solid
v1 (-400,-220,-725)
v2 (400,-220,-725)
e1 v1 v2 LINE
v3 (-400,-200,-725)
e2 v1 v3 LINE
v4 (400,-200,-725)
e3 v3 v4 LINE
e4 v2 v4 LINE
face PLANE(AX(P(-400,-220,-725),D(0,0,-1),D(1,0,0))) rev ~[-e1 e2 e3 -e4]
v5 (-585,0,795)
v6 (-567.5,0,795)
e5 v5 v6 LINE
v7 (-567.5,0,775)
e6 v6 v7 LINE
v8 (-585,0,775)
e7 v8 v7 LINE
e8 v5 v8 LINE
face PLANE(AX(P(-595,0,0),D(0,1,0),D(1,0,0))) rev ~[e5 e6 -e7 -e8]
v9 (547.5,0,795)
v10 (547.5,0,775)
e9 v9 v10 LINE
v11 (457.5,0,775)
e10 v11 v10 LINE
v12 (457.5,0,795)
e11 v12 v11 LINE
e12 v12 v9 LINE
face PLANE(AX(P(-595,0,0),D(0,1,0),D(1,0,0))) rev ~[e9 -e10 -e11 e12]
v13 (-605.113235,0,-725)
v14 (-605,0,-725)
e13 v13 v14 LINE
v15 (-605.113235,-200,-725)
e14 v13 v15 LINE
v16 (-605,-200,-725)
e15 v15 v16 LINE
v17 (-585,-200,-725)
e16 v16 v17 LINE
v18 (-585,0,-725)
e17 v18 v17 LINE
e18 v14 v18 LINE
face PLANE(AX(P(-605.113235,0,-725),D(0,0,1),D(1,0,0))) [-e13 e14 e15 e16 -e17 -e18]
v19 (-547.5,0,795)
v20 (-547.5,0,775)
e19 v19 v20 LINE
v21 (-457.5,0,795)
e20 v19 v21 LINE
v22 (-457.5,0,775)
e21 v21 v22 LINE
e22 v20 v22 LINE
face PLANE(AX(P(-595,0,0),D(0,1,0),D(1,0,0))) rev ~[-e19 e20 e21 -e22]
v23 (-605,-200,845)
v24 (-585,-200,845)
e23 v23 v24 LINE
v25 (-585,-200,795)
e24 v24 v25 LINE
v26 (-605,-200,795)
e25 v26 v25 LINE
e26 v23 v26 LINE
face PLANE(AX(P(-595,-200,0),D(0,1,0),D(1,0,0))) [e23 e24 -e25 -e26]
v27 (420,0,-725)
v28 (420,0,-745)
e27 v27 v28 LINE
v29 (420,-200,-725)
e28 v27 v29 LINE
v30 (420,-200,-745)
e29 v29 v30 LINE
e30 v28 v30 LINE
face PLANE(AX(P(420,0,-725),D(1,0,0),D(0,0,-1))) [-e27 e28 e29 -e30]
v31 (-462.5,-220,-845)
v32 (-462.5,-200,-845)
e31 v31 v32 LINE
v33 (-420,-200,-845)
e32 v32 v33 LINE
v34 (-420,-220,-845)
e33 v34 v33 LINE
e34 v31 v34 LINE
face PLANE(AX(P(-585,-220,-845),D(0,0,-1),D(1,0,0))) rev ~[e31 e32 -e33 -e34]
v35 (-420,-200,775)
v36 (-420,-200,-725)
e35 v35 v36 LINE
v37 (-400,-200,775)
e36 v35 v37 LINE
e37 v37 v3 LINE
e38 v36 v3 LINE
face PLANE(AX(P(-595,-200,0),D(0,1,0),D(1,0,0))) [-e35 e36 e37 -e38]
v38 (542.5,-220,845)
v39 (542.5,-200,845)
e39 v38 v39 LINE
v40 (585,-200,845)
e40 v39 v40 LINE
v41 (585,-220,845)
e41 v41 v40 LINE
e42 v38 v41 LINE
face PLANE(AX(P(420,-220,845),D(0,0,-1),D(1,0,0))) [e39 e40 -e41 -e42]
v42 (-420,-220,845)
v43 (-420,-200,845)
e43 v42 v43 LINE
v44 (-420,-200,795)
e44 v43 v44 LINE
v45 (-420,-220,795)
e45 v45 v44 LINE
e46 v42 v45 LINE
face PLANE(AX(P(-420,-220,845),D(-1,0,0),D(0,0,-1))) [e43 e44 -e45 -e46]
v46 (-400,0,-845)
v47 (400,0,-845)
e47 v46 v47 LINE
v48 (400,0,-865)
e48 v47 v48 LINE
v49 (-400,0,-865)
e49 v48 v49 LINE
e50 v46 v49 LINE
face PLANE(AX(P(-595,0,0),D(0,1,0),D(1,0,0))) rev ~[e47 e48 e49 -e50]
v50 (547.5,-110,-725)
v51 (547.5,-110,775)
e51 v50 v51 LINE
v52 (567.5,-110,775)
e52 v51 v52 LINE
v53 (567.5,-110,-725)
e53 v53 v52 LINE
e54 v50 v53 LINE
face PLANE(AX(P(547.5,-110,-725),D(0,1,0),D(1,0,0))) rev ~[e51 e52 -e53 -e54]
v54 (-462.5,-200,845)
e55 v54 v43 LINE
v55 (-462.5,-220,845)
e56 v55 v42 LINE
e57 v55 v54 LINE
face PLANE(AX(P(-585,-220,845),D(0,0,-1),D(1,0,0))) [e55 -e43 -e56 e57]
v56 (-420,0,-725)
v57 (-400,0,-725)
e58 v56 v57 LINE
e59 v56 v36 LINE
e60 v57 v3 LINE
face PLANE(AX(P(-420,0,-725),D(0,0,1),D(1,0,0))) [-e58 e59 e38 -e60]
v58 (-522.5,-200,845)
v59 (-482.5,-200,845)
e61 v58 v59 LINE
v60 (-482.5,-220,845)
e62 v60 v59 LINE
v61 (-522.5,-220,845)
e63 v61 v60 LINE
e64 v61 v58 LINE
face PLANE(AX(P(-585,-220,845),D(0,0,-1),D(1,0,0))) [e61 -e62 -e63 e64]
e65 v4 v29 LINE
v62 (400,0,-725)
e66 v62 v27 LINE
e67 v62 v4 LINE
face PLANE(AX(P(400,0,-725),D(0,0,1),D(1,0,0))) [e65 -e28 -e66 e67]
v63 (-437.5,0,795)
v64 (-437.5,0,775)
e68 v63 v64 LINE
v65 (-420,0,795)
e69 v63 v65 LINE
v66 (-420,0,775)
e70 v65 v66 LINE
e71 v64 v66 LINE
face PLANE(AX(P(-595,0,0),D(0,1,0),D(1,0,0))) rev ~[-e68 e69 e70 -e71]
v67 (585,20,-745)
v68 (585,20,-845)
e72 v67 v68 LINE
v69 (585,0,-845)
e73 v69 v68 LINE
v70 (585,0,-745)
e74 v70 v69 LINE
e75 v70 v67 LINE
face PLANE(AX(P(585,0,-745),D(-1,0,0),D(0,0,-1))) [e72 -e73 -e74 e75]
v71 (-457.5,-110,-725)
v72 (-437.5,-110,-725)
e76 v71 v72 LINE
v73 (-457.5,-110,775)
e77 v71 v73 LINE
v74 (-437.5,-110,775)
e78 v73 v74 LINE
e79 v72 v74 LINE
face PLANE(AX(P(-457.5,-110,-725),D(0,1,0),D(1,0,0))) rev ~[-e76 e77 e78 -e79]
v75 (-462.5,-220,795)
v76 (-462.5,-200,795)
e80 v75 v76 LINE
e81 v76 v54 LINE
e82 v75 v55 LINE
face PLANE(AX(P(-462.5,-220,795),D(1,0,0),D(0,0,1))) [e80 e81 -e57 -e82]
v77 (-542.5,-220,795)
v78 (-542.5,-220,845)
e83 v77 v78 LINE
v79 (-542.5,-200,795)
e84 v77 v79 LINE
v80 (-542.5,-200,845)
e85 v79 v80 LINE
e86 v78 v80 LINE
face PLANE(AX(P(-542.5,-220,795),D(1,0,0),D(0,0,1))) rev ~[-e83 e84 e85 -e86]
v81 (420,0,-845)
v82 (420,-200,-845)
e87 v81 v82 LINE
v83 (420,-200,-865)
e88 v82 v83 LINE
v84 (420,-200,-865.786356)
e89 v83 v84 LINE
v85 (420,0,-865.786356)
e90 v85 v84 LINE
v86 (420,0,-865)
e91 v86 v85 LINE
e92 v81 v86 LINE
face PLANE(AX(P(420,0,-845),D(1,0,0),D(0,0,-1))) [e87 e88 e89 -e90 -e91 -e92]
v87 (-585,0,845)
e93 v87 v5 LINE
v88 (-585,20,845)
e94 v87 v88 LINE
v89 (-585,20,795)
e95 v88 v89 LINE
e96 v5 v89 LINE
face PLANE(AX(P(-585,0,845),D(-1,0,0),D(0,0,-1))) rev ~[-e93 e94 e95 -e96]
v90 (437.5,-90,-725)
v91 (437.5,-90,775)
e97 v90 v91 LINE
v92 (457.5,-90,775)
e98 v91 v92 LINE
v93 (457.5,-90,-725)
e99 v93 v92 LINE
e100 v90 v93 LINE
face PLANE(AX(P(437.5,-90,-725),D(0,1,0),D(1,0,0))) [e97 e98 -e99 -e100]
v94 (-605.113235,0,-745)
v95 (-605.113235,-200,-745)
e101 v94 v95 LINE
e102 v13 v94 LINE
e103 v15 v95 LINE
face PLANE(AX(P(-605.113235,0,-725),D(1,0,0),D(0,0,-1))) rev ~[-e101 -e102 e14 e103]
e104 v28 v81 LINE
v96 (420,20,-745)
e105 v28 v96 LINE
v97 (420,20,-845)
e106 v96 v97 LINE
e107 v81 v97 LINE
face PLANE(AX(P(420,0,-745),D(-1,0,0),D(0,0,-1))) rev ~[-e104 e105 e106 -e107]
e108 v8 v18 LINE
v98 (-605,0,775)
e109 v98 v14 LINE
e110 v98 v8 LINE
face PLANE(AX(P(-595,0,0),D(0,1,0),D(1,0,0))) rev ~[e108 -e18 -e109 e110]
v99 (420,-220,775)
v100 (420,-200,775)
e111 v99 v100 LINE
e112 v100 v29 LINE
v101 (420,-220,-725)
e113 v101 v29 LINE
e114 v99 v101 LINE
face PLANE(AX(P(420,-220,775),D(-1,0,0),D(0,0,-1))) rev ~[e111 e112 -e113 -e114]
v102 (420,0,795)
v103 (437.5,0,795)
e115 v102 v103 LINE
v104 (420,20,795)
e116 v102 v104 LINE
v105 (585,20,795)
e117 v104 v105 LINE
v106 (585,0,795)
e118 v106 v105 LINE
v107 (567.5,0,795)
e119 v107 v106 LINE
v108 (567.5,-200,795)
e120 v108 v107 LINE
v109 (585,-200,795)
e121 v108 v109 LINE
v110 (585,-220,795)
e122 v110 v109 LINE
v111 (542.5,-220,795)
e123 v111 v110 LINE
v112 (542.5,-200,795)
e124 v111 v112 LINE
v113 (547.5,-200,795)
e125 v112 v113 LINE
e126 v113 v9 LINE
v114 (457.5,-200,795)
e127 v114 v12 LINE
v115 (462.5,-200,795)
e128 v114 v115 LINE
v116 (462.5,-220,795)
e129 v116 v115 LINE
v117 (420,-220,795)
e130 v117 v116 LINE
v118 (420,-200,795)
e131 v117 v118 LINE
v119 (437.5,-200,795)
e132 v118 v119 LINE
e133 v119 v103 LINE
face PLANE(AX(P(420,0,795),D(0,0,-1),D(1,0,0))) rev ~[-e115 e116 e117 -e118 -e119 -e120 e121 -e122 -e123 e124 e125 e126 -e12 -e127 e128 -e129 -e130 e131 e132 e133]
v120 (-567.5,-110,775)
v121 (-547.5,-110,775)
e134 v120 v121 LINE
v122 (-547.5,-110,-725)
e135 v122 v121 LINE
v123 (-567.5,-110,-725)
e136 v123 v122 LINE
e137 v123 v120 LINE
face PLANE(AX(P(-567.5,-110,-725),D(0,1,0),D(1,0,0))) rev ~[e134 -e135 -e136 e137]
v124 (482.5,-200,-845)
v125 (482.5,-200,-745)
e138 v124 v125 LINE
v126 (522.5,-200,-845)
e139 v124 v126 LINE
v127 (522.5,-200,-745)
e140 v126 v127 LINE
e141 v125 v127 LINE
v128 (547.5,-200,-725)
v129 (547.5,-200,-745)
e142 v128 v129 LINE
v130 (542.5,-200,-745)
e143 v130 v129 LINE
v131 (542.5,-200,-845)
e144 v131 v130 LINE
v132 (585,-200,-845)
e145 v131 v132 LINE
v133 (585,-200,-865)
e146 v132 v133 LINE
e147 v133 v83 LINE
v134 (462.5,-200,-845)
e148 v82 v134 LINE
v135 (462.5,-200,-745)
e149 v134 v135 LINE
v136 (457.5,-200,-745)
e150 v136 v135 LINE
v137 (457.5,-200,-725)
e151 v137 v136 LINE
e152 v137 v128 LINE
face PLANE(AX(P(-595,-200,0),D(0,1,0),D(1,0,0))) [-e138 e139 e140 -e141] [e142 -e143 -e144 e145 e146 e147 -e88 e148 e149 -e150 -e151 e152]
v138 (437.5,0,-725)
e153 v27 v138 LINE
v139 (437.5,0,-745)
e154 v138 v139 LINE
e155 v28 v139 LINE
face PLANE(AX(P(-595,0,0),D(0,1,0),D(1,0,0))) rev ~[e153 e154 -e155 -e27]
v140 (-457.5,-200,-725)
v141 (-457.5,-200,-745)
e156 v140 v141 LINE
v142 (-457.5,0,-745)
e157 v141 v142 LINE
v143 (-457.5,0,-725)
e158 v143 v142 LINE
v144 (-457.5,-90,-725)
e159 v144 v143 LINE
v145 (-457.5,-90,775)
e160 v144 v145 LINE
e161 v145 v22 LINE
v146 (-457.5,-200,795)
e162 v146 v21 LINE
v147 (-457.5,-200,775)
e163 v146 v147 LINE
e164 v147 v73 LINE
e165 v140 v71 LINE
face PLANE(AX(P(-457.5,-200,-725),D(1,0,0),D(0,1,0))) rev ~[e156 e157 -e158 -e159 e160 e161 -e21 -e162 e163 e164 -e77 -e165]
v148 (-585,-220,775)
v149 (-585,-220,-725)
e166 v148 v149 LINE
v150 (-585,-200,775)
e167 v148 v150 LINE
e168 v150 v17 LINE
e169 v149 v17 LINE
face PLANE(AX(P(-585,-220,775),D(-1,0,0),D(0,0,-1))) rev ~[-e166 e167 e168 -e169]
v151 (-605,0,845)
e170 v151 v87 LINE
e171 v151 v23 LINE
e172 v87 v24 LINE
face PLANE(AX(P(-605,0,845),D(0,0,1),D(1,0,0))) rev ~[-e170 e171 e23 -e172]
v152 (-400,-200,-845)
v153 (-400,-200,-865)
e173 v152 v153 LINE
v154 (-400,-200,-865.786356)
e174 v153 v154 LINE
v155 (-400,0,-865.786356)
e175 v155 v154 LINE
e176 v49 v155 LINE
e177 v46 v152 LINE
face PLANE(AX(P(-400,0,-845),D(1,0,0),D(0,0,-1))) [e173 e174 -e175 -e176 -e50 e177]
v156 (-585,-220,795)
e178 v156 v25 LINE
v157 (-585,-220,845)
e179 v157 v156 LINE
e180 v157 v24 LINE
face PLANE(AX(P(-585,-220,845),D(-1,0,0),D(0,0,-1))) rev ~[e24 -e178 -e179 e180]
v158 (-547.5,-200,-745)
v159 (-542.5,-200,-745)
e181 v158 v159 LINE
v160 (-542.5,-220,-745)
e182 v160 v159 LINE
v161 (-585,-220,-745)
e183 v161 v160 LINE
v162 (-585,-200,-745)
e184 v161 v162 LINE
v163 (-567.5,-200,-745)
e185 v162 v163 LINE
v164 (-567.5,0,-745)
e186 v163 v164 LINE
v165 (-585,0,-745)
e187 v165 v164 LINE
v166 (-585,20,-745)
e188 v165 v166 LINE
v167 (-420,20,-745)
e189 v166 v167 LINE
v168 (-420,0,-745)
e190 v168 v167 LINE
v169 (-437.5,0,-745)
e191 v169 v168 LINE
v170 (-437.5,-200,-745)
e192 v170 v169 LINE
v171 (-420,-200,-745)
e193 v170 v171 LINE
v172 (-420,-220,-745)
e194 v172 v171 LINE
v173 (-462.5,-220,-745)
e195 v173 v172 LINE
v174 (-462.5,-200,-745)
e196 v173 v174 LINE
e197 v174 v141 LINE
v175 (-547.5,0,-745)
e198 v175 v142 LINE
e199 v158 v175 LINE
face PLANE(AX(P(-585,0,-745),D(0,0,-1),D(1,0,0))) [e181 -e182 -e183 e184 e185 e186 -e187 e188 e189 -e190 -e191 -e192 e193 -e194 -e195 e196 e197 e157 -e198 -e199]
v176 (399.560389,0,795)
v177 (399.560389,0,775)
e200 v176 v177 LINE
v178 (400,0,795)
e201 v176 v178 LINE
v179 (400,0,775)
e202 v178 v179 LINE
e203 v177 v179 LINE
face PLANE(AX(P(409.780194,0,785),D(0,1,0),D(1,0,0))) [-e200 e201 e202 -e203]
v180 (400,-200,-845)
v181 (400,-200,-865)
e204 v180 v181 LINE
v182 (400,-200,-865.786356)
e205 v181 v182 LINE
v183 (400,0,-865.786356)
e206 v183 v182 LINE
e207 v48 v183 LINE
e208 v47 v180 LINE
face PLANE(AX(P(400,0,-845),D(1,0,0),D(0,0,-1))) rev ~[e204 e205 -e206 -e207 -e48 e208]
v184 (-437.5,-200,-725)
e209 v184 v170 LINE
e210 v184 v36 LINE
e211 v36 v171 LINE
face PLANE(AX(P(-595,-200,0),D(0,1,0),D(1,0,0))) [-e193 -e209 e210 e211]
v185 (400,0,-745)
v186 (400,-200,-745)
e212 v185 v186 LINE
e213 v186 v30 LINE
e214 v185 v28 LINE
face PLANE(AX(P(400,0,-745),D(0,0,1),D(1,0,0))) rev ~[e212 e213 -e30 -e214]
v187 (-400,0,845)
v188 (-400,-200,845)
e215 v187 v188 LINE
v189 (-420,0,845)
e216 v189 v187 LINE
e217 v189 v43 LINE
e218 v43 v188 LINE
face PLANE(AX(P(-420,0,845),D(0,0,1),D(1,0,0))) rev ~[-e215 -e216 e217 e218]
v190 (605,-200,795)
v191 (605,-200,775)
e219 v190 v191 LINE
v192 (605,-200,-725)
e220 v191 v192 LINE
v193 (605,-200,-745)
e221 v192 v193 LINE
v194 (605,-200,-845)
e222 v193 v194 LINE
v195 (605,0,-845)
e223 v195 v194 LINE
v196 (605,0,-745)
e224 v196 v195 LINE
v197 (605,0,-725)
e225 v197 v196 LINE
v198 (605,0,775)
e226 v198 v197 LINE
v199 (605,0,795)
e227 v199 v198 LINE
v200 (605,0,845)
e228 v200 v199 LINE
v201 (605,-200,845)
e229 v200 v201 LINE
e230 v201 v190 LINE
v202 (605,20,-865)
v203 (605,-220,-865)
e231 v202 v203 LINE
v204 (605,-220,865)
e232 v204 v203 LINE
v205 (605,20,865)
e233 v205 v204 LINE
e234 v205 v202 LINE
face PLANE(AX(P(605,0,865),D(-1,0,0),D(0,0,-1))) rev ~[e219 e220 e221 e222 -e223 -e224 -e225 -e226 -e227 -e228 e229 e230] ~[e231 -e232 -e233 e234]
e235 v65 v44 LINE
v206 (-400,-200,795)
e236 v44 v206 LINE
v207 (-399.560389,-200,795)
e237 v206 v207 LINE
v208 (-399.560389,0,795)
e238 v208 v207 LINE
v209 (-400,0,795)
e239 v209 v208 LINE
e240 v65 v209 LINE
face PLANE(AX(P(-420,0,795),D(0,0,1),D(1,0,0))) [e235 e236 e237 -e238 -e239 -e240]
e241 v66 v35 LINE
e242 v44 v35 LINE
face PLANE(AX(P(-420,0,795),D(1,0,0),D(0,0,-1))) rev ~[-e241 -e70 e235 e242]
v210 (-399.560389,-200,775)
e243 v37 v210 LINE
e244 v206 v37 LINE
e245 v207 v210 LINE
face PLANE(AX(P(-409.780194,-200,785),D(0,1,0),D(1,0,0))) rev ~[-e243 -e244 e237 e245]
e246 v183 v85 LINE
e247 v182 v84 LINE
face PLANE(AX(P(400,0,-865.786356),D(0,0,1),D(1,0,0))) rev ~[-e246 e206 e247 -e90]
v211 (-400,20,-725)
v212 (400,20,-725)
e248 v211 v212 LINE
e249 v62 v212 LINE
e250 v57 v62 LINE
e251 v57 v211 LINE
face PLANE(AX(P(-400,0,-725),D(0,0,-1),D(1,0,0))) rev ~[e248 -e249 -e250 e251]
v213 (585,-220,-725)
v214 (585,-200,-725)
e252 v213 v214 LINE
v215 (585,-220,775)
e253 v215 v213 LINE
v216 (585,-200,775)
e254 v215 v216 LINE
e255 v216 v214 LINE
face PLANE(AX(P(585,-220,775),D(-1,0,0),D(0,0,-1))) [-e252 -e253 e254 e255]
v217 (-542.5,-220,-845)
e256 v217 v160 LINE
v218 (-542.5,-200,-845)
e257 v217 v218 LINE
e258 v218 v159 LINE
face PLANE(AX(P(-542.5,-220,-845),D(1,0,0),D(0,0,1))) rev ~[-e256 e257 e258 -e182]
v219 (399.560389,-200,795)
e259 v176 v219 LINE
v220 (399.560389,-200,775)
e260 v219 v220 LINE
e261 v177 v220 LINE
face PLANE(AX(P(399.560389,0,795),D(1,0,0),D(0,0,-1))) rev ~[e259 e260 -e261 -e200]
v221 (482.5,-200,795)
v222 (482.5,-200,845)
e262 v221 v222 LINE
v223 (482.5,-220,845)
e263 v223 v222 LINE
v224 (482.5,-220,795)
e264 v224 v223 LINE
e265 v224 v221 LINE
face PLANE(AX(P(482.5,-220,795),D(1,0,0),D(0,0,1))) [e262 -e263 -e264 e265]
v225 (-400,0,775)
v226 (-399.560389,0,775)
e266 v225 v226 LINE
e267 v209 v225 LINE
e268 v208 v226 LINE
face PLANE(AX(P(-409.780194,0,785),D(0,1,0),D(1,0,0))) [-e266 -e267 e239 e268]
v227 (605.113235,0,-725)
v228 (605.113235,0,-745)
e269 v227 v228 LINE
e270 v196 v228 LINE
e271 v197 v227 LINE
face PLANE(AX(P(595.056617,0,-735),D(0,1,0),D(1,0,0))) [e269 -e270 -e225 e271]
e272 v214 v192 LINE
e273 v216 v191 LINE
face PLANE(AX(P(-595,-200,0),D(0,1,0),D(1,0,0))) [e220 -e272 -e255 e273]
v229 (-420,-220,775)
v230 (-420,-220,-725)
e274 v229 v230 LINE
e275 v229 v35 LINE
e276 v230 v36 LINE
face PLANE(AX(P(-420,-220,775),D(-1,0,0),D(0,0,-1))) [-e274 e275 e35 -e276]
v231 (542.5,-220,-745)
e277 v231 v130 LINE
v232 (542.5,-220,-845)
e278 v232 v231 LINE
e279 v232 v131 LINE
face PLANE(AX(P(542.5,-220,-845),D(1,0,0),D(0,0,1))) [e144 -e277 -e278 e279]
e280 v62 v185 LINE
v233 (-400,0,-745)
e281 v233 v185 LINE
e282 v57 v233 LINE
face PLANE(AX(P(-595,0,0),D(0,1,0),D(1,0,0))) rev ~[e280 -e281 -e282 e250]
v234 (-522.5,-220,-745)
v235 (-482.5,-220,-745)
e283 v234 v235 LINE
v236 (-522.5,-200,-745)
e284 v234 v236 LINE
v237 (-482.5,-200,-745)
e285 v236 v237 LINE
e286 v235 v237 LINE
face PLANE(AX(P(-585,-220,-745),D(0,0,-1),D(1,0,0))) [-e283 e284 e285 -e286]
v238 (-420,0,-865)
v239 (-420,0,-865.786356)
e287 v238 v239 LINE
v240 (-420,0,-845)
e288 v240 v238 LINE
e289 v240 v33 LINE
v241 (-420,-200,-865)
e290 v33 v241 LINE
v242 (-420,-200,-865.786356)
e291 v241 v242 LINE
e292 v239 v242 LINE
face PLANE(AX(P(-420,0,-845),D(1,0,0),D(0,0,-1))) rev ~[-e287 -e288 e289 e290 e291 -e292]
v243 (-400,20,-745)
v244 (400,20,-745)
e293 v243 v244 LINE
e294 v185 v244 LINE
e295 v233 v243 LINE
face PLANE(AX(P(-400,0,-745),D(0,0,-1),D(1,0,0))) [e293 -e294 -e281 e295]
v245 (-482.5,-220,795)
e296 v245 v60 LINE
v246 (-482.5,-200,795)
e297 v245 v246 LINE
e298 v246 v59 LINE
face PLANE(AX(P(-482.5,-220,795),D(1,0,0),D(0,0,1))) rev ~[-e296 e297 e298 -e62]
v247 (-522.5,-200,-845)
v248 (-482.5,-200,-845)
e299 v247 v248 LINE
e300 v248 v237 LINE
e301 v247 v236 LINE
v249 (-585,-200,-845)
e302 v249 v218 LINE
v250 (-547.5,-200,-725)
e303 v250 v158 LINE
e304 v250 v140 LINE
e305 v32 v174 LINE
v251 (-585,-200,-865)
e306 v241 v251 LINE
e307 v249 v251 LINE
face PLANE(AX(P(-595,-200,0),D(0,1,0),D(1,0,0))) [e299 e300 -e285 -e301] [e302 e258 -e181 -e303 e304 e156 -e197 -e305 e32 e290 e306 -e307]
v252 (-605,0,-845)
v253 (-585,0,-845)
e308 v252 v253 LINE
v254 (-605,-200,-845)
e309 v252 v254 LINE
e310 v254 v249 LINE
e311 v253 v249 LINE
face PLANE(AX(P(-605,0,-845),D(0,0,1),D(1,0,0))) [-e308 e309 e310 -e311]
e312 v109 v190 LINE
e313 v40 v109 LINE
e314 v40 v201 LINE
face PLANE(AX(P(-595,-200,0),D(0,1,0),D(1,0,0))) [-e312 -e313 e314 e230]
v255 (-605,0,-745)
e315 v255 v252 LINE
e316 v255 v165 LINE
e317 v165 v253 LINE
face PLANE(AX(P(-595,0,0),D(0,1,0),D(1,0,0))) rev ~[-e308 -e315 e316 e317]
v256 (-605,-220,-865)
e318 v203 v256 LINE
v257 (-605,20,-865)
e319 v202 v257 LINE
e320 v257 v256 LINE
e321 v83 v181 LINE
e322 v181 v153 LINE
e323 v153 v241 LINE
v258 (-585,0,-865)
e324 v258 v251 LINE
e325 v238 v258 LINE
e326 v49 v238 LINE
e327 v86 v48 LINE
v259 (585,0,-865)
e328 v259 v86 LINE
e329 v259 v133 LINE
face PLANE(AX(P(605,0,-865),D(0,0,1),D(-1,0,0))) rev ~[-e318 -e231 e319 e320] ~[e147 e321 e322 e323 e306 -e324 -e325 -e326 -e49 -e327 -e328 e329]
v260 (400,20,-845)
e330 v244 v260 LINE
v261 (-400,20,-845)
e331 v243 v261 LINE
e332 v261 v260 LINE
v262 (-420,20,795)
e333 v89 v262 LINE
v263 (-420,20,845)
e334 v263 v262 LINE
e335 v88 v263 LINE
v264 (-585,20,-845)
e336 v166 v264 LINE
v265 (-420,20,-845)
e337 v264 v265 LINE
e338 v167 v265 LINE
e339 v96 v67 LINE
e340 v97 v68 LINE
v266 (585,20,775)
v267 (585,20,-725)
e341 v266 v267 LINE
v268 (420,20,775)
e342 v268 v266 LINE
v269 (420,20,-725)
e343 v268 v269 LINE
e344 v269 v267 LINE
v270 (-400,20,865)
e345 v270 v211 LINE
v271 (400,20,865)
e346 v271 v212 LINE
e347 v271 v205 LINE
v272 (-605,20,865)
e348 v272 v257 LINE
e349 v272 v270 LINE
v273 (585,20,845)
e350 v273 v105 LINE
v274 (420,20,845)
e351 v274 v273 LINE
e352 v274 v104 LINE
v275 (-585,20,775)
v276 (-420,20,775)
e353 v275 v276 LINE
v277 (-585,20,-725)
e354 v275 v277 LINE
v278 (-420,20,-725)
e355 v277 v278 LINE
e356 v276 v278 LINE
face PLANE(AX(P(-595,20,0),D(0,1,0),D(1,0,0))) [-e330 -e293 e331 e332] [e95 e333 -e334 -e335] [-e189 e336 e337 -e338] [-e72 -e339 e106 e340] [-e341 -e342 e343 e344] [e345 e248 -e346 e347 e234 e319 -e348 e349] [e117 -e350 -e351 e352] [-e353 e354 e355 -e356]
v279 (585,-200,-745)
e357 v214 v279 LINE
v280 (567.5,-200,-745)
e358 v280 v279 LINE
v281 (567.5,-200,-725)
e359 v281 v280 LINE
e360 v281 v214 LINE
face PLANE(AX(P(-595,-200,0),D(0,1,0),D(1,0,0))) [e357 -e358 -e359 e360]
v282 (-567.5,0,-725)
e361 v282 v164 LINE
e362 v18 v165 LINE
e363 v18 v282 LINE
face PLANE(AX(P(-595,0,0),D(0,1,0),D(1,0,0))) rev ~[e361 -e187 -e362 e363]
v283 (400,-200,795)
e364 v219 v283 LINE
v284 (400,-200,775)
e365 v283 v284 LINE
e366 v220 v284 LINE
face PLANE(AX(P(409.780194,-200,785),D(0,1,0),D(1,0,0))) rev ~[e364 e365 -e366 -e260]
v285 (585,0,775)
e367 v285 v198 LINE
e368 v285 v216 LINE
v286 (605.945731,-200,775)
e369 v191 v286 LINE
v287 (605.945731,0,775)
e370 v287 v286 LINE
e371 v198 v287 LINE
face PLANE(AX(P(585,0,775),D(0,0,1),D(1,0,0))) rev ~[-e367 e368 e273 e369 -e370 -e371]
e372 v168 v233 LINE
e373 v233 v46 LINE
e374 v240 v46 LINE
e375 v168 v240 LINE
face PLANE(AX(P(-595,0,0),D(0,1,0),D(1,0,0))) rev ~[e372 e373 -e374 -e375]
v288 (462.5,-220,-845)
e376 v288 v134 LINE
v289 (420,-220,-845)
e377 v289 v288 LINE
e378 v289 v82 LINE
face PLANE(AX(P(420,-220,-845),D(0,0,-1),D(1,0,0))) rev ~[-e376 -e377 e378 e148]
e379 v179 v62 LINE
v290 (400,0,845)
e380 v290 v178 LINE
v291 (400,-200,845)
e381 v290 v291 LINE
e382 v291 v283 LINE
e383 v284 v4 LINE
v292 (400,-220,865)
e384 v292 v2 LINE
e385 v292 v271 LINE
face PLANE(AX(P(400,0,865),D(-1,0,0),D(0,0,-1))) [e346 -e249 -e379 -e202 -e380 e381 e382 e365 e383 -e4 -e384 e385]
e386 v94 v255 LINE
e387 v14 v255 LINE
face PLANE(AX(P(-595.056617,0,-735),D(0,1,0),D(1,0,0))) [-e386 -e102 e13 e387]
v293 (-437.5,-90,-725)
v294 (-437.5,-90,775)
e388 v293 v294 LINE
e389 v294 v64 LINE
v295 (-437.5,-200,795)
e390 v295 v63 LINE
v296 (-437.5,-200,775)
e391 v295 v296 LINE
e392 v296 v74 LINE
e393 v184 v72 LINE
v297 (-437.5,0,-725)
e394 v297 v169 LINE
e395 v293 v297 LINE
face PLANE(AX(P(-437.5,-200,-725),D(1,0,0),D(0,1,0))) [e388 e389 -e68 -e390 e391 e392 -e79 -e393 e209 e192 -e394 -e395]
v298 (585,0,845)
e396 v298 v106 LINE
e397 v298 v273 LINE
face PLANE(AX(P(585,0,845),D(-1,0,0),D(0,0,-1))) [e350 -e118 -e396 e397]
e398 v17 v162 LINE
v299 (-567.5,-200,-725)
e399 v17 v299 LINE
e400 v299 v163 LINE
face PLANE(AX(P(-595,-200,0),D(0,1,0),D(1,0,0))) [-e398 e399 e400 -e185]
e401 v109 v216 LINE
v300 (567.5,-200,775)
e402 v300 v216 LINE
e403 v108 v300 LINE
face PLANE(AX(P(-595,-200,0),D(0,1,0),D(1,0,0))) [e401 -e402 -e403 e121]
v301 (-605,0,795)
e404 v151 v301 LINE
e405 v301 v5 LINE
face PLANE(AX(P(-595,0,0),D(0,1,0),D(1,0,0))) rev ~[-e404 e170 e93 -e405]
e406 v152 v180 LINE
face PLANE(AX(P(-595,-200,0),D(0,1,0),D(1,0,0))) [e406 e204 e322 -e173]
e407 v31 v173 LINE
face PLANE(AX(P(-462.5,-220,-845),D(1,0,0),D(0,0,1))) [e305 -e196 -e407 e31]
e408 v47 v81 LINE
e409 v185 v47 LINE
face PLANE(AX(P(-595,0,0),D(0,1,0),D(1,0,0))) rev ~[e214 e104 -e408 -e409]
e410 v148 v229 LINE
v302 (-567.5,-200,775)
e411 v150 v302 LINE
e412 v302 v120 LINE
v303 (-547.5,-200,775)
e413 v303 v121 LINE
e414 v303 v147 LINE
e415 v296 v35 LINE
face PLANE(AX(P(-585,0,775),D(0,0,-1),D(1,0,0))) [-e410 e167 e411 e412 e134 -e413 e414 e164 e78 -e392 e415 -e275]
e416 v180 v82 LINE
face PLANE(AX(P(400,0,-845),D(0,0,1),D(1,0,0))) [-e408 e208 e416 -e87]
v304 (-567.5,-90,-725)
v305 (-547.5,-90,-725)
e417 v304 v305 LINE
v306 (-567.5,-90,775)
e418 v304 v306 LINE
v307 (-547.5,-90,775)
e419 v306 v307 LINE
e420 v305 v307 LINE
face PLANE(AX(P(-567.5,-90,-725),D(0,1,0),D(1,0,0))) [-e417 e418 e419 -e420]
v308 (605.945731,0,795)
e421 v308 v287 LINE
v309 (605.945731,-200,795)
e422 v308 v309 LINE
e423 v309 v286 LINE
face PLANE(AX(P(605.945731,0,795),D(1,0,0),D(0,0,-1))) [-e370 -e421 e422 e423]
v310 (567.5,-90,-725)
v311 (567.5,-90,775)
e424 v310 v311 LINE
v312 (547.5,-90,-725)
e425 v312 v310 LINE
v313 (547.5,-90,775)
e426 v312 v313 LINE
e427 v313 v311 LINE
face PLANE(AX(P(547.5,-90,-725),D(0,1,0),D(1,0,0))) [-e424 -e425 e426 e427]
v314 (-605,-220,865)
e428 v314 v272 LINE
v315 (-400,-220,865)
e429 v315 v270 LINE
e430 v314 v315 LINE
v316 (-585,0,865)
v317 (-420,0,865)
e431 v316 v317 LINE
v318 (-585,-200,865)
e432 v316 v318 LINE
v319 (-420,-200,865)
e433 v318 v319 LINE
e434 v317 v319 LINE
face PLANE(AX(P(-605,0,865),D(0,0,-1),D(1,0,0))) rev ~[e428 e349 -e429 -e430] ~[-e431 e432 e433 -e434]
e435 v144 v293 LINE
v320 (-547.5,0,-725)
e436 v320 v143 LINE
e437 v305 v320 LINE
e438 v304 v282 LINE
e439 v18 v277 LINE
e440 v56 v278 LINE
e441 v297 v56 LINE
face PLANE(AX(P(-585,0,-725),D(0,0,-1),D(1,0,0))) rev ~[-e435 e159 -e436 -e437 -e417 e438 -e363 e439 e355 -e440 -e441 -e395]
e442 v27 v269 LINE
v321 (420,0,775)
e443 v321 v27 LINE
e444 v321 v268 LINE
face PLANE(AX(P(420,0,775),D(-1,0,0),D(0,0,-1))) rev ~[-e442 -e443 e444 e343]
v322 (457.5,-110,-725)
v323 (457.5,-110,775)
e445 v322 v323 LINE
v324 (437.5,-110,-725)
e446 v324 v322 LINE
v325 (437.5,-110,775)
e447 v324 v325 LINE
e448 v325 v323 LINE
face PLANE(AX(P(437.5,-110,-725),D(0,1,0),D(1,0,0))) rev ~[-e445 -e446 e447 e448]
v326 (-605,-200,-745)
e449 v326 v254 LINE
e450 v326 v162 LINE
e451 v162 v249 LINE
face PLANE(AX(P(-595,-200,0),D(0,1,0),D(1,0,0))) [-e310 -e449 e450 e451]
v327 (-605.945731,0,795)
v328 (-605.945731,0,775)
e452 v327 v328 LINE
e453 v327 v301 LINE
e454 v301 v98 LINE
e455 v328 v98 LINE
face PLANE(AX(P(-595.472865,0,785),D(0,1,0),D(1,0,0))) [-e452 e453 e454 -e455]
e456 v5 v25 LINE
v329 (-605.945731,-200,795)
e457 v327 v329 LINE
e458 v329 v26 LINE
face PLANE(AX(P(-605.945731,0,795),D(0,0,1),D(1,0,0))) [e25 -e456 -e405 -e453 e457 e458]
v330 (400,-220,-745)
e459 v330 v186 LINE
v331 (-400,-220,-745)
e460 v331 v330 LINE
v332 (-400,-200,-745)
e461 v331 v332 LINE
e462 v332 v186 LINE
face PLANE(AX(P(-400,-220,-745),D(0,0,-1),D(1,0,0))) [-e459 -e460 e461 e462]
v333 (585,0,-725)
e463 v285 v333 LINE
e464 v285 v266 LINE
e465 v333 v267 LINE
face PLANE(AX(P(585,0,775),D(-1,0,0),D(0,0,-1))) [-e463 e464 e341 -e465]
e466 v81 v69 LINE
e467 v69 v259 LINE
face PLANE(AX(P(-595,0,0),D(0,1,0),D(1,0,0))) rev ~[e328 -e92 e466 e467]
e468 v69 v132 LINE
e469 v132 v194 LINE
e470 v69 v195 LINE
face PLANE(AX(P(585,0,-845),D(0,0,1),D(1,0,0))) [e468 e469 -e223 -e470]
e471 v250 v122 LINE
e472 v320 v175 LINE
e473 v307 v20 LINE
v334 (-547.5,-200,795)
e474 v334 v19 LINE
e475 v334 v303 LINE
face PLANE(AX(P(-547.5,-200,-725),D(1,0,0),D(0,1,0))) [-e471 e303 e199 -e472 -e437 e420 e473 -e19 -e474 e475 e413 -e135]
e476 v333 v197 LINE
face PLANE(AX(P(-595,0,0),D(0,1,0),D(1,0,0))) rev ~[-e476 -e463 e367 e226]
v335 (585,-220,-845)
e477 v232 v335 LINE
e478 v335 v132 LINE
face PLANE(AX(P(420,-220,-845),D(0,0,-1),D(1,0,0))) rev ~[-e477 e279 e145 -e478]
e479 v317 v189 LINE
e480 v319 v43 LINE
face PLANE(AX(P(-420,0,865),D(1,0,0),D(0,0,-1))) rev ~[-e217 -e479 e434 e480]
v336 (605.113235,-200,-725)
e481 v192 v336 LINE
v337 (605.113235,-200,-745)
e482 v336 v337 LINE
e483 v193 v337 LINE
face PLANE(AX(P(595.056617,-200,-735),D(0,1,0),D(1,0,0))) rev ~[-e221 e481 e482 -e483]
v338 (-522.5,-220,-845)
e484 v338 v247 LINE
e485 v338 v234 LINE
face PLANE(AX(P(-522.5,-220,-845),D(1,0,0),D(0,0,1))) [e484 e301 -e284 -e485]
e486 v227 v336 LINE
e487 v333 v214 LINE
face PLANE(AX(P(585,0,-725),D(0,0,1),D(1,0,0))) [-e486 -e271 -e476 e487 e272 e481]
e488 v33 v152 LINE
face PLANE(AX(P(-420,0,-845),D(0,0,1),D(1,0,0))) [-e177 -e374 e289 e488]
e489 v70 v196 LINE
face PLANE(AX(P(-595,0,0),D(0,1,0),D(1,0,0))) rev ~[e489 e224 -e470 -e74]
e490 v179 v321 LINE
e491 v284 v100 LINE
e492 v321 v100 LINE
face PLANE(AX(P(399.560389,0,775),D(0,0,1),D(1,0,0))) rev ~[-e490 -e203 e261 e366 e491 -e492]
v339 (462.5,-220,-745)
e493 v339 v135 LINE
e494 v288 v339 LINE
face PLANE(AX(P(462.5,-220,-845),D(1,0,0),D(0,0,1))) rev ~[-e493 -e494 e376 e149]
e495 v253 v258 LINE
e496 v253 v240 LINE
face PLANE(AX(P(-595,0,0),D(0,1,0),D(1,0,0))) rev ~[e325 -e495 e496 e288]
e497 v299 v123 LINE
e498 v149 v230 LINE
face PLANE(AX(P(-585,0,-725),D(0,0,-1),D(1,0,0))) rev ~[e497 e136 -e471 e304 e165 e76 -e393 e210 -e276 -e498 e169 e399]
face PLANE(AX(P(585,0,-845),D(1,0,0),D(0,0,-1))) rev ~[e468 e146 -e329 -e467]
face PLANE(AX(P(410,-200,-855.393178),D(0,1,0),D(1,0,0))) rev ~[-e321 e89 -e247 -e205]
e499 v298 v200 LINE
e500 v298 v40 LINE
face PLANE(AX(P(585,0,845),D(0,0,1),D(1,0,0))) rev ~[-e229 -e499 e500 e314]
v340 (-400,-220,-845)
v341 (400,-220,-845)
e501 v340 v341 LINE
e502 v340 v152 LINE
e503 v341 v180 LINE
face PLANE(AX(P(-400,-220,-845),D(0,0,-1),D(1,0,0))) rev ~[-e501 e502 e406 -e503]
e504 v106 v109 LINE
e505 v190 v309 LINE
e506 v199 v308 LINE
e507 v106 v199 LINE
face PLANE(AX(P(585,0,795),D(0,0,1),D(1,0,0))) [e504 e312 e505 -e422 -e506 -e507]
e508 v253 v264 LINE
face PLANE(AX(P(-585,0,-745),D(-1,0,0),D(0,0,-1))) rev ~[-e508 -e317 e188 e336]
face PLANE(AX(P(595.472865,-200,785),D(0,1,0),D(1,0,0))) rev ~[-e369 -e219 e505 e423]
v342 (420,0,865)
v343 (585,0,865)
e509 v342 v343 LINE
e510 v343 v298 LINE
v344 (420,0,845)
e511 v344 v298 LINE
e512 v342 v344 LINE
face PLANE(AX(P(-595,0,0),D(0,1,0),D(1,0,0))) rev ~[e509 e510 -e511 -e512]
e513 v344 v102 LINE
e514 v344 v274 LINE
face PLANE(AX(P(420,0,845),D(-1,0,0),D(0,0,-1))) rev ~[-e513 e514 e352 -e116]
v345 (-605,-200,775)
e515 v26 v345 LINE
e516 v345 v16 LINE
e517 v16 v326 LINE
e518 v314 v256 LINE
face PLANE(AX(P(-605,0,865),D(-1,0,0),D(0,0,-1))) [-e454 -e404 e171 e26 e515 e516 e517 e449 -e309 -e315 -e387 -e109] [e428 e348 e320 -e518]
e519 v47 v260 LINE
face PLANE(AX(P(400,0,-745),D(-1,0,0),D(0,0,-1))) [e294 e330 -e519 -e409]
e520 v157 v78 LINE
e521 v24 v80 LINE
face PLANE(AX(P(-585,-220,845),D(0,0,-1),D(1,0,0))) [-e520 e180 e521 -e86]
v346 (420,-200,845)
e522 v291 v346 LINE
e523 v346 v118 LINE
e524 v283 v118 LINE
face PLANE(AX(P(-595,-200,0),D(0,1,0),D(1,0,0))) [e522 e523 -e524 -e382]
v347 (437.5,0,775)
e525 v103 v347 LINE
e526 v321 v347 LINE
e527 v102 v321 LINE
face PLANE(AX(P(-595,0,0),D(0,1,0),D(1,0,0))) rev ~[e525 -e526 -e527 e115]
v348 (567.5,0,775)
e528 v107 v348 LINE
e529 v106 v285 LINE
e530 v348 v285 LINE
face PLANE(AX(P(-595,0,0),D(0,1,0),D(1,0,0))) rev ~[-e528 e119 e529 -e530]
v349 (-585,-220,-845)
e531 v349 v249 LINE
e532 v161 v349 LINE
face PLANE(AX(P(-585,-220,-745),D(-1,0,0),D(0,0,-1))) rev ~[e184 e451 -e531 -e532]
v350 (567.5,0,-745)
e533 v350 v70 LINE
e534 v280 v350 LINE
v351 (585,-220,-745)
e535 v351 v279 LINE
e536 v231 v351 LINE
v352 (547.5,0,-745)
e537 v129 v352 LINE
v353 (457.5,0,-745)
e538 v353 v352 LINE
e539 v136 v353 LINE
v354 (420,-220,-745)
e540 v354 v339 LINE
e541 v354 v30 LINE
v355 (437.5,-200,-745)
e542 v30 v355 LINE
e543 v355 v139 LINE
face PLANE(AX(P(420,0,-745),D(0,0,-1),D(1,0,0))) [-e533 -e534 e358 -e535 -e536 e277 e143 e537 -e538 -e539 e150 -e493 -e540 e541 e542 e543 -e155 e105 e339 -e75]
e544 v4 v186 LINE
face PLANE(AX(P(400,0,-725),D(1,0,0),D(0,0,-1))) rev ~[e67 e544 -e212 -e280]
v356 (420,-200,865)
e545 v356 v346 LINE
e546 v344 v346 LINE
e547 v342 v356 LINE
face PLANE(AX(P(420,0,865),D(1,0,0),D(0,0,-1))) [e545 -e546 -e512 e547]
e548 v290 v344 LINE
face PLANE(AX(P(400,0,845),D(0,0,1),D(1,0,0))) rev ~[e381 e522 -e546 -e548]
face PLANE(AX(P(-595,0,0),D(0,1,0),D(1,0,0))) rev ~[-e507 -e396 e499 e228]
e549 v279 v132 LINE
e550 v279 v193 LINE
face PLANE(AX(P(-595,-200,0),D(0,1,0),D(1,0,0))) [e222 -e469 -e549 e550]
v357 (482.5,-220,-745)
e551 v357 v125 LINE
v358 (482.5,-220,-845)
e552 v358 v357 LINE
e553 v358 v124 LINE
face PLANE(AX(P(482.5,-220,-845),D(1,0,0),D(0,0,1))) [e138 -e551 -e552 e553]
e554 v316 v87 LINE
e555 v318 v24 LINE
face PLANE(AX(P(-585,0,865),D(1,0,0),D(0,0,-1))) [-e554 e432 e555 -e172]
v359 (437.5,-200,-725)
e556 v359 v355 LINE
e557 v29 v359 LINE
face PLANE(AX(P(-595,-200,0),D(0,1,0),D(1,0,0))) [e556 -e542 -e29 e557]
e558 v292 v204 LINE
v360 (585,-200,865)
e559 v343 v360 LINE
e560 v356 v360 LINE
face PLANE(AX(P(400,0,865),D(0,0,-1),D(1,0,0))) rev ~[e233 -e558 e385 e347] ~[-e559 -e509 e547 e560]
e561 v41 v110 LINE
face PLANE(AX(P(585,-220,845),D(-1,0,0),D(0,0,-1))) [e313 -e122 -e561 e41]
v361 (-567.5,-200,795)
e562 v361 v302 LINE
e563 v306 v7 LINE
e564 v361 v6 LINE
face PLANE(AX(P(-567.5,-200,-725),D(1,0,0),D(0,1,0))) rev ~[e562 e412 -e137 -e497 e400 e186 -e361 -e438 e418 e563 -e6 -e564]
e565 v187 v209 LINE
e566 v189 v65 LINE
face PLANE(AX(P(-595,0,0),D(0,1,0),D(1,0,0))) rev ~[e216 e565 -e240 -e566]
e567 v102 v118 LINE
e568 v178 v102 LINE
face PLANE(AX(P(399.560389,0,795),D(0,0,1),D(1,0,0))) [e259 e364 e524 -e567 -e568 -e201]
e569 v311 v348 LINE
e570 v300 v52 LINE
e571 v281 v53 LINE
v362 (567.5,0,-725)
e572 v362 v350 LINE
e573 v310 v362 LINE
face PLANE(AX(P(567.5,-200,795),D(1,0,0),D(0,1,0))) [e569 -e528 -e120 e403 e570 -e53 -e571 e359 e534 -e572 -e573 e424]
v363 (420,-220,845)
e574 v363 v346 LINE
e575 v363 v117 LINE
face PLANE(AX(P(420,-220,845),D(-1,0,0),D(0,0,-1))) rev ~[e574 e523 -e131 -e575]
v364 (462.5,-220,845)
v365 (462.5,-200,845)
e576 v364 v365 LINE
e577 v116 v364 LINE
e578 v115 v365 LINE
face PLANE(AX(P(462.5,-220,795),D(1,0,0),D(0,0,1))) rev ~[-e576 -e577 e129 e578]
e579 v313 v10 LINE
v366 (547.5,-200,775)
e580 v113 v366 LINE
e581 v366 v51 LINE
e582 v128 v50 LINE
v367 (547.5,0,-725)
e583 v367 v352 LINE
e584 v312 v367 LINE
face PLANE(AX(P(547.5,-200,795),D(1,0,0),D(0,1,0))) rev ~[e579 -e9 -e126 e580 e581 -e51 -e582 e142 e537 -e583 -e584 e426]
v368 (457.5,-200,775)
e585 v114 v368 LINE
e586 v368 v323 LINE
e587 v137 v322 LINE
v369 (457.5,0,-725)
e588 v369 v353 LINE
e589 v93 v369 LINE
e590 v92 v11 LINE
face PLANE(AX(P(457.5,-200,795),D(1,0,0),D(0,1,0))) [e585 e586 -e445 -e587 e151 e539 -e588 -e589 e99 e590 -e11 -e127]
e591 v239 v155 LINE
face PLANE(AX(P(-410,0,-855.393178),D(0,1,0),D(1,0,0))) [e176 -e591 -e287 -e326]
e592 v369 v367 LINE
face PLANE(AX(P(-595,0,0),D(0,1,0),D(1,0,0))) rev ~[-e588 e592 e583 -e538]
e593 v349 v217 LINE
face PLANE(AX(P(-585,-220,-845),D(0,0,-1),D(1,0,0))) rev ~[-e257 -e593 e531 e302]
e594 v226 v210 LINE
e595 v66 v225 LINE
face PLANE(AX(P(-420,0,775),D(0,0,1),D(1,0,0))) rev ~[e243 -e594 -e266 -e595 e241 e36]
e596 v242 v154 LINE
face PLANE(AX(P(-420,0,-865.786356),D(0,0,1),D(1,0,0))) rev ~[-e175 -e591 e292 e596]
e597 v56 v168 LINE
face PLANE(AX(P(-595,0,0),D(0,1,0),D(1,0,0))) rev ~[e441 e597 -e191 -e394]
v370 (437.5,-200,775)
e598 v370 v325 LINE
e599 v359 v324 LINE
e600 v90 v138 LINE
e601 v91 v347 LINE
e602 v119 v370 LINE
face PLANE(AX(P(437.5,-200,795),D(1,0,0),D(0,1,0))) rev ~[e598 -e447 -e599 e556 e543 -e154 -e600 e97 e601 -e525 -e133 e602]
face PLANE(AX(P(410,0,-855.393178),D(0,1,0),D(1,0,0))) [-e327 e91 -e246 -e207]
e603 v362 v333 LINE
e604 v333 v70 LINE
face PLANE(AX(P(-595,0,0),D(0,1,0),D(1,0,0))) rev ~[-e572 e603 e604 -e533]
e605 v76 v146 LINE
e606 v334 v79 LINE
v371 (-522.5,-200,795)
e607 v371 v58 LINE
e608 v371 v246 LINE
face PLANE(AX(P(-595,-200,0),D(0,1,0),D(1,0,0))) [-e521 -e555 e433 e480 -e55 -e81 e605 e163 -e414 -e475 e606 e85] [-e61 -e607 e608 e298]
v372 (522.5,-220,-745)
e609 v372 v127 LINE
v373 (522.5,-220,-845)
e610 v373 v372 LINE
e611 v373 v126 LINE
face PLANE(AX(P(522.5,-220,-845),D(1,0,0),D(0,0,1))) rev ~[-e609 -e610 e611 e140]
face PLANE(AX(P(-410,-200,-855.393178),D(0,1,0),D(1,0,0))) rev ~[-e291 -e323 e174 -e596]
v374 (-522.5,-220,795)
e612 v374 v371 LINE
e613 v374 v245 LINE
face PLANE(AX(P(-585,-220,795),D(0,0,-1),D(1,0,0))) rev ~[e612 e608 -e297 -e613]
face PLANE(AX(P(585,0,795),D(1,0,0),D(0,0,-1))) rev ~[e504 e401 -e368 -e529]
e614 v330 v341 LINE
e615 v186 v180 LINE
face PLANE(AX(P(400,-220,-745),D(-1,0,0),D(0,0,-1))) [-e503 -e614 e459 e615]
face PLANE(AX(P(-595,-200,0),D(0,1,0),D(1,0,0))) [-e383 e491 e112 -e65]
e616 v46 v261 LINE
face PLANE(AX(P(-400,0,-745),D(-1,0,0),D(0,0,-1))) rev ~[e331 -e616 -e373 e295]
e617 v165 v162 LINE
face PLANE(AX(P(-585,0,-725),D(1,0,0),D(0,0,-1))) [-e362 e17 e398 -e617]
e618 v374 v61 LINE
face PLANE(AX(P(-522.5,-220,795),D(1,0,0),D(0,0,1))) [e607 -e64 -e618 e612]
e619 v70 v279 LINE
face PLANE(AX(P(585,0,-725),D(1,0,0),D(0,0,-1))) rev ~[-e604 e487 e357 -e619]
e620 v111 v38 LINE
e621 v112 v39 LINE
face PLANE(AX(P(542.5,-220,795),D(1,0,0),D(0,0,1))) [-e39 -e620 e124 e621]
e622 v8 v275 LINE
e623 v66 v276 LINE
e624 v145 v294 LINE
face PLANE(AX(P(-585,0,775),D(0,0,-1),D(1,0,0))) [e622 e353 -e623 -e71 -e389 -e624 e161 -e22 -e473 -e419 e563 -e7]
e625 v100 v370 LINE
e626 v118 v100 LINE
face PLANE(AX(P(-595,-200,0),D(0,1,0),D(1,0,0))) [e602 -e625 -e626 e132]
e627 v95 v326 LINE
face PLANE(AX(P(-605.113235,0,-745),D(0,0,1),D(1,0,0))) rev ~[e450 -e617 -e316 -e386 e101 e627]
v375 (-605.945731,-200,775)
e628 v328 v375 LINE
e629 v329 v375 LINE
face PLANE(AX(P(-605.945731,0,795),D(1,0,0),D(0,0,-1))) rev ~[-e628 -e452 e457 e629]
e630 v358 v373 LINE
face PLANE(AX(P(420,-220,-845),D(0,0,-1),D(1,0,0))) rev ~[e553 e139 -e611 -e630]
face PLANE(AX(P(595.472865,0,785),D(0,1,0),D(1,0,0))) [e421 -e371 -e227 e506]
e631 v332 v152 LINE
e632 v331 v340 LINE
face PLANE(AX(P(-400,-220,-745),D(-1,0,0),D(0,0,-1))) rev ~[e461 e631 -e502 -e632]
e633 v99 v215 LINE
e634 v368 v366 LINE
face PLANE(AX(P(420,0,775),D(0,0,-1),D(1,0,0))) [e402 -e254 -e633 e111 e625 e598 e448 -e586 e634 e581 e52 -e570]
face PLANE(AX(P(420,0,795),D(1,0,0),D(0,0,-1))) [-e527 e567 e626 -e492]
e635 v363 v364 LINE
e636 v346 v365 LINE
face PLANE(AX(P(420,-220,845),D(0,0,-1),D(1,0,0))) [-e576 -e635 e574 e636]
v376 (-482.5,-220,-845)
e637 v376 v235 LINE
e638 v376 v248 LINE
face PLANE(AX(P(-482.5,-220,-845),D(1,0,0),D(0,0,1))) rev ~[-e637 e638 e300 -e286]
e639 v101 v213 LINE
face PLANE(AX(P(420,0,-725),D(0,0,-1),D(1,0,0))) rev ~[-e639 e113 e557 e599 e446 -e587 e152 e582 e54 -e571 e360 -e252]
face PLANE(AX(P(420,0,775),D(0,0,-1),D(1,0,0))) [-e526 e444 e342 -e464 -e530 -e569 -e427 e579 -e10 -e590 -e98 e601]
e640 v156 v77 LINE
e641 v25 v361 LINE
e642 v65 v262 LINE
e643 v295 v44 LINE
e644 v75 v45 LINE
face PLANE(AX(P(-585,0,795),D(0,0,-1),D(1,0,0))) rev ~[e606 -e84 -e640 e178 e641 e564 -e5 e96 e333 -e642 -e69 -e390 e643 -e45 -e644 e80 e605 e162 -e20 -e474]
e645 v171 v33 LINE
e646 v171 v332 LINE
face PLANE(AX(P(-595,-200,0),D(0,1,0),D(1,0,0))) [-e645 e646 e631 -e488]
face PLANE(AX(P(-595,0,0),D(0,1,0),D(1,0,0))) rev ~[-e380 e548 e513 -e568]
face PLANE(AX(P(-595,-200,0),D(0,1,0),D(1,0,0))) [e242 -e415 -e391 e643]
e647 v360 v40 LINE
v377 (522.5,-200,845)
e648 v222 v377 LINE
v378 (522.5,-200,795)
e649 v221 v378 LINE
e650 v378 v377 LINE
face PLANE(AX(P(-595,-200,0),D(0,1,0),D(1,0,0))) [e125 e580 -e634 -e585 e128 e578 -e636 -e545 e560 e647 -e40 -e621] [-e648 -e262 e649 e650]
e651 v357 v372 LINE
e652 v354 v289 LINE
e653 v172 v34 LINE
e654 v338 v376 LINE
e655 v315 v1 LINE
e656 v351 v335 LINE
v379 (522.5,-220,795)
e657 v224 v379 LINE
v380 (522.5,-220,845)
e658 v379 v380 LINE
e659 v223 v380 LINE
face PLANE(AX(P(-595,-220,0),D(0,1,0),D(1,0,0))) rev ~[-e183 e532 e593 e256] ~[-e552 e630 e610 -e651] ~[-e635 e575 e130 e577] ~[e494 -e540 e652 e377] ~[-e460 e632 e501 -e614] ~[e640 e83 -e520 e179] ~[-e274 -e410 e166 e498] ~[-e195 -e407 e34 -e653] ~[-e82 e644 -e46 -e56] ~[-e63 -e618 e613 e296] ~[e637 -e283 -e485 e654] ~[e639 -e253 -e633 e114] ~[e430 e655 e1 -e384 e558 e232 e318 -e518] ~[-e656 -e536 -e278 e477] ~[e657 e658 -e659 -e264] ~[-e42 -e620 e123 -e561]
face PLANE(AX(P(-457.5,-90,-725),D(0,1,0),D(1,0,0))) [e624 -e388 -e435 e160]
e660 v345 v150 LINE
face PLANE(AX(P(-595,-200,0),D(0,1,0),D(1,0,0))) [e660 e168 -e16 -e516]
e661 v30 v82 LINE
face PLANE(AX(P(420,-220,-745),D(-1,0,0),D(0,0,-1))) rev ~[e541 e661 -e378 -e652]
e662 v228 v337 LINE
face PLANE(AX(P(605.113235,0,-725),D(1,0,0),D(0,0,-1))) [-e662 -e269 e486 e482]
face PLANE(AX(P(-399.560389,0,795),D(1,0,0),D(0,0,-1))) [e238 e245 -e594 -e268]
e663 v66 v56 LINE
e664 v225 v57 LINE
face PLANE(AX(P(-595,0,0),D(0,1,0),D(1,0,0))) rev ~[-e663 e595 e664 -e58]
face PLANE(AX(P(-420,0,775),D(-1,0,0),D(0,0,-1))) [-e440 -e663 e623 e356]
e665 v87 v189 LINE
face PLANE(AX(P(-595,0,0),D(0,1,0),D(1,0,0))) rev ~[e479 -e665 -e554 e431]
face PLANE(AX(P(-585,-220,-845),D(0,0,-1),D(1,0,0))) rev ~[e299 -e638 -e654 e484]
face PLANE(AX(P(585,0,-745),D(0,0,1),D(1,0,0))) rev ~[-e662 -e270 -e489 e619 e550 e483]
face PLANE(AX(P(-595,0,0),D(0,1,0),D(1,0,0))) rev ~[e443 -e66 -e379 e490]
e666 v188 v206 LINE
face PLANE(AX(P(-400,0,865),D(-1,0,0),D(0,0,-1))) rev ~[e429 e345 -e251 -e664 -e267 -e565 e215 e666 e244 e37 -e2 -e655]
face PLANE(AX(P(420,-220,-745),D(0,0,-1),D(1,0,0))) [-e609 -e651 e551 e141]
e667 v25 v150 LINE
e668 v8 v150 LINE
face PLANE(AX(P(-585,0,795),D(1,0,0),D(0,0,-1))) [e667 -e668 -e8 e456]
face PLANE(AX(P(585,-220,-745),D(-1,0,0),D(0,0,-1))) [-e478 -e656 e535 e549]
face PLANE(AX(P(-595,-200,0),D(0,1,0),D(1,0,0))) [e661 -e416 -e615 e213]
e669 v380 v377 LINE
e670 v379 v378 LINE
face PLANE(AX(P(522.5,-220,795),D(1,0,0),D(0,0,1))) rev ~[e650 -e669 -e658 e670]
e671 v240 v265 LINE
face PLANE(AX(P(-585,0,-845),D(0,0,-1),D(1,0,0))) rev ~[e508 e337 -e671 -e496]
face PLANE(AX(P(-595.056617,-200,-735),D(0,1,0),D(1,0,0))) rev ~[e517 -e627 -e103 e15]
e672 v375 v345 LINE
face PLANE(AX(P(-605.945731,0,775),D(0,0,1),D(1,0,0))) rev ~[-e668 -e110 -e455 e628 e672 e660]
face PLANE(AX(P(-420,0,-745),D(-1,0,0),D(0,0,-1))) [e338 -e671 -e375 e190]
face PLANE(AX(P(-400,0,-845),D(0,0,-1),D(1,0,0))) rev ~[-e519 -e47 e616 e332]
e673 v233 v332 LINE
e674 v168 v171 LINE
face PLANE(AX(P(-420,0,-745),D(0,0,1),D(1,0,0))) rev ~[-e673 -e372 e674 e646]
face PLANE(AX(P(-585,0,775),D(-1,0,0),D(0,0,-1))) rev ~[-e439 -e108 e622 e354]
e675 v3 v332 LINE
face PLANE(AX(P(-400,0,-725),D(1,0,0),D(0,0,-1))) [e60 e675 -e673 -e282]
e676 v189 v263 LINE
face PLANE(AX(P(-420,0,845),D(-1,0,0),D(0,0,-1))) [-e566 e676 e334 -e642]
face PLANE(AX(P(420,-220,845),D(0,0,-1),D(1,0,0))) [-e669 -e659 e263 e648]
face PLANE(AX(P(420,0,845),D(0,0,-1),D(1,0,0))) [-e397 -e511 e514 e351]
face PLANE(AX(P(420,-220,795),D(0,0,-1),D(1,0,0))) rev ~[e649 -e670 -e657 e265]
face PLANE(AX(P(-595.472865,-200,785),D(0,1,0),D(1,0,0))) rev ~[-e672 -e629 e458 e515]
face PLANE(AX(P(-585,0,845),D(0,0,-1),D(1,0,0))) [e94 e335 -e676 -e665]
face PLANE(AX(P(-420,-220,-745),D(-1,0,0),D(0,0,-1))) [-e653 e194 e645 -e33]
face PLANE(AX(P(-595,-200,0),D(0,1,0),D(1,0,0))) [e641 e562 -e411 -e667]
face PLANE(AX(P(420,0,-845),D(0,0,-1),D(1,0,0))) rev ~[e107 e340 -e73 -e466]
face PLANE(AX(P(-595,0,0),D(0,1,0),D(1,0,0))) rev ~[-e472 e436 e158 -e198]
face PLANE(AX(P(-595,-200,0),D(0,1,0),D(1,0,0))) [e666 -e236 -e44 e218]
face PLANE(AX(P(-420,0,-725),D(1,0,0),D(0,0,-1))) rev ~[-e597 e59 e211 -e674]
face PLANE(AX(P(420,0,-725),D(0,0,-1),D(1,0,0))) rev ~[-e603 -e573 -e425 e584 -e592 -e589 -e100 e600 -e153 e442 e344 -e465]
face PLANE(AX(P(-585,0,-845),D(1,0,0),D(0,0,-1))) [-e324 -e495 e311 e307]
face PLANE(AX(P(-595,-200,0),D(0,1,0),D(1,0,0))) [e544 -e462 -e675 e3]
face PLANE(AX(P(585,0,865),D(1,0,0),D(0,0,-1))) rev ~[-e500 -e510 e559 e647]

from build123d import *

# Parameters (mm, degrees)
SKETCH1_W           = 20
SKETCH1_H           = 1730
SKETCH1_W_2         = 165
SKETCH1_H_2         = 20
SKETCH1_W_3         = 800
BOSS_EXTRUDE1_DEPTH = 20
LPATTERN1_COUNT     = 2
LPATTERN1_PITCH     = 220
SKETCH2_W           = 20.11323458
SKETCH2_H           = 20
SKETCH2_W_2         = 20
SKETCH2_H_2         = 20.786356151
SKETCH2_W_3         = 20.945730737
SKETCH2_W_4         = 20.439611237
BOSS_EXTRUDE2_DEPTH = 200
SKETCH3_W           = 20
SKETCH3_H           = 100
SKETCH3_H_2         = 50
BOSS_EXTRUDE3_DEPTH = 20
SKETCH4_W           = 20
SKETCH4_H           = 200
BOSS_EXTRUDE4_DEPTH = 20
LPATTERN2_COUNT     = 2
LPATTERN2_PITCH     = 1520
SKETCH5_W           = 20
SKETCH5_H           = 20
BOSS_EXTRUDE5_DEPTH = 1500


with BuildPart() as part:
    # Sketch1 → Boss-Extrude1 (new body)
    with BuildSketch(Plane(origin=(0, 0, 0), x_dir=(1, 0, 0), z_dir=(0, 1, 0))):
        with Locations((-595, 0)):
            Rectangle(SKETCH1_W, SKETCH1_H)
        with Locations((-410, 0)):
            Rectangle(SKETCH1_W, SKETCH1_H)
        with Locations((-502.5, 735)):
            Rectangle(SKETCH1_W_2, SKETCH1_H_2)
        with Locations((-502.5, 855)):
            Rectangle(SKETCH1_W_2, SKETCH1_H_2)
        with Locations((0, 735)):
            Rectangle(SKETCH1_W_3, SKETCH1_H_2)
        with Locations((0, 855)):
            Rectangle(SKETCH1_W_3, SKETCH1_H_2)
        with Locations((502.5, 855)):
            Rectangle(SKETCH1_W_2, SKETCH1_H_2)
        with Locations((410, 0)):
            Rectangle(SKETCH1_W, SKETCH1_H)
        with Locations((502.5, 735)):
            Rectangle(SKETCH1_W_2, SKETCH1_H_2)
        with Locations((595, 0)):
            Rectangle(SKETCH1_W, SKETCH1_H)
        with Locations((502.5, -785)):
            Rectangle(SKETCH1_W_2, SKETCH1_H_2)
        with Locations((502.5, -855)):
            Rectangle(SKETCH1_W_2, SKETCH1_H_2)
        with Locations((-502.5, -785)):
            Rectangle(SKETCH1_W_2, SKETCH1_H_2)
        with Locations((-502.5, -855)):
            Rectangle(SKETCH1_W_2, SKETCH1_H_2)
    extrude(amount=BOSS_EXTRUDE1_DEPTH)


with BuildPart() as lpattern1_1:
    # LPattern1: pattern copy
    add(part.part.moved(Location(Vector(0, -1, 0) * (1 * LPATTERN1_PITCH))))


with BuildPart() as part_1:
    add(part.part)

    add(lpattern1_1.part)  # Boss-Extrude2 merges LPattern1_1
    # Sketch2 → Boss-Extrude2 (add)
    with BuildSketch(Plane(origin=(0, 0, 0), x_dir=(1, 0, 0), z_dir=(0, 1, 0))):
        with Locations((-595.05661729, 735)):
            Rectangle(SKETCH2_W, SKETCH2_H)
        with Locations((-595, 855)):
            Rectangle(SKETCH2_W_2, SKETCH2_H)
        with Locations((-410, 855.393178076)):
            Rectangle(SKETCH2_W_2, SKETCH2_H_2)
        with Locations((-595.472865369, -785)):
            Rectangle(SKETCH2_W_3, SKETCH2_H)
        with Locations((-410, 735)):
            Rectangle(SKETCH2_W_2, SKETCH2_H)
        with Locations((-595, -855)):
            Rectangle(SKETCH2_W_2, SKETCH2_H)
        with Locations((-410, -855)):
            Rectangle(SKETCH2_W_2, SKETCH2_H)
        with Locations((-409.780194381, -785)):
            Rectangle(SKETCH2_W_4, SKETCH2_H)
        with Locations((595.472865369, -785)):
            Rectangle(SKETCH2_W_3, SKETCH2_H)
        with Locations((410, -855)):
            Rectangle(SKETCH2_W_2, SKETCH2_H)
        with Locations((595, -855)):
            Rectangle(SKETCH2_W_2, SKETCH2_H)
        with Locations((410, 735)):
            Rectangle(SKETCH2_W_2, SKETCH2_H)
        with Locations((410, 855.393178076)):
            Rectangle(SKETCH2_W_2, SKETCH2_H_2)
        with Locations((595.05661729, 735)):
            Rectangle(SKETCH2_W, SKETCH2_H)
        with Locations((595, 855)):
            Rectangle(SKETCH2_W_2, SKETCH2_H)
        with Locations((409.780194381, -785)):
            Rectangle(SKETCH2_W_4, SKETCH2_H)
    extrude(amount=-BOSS_EXTRUDE2_DEPTH)

    # Sketch3 → Boss-Extrude3 (add)
    with BuildSketch(Plane.XZ.offset(220)):
        with Locations((-472.5, -795)):
            Rectangle(SKETCH3_W, SKETCH3_H)
        with Locations((-532.5, -795)):
            Rectangle(SKETCH3_W, SKETCH3_H)
        with Locations((-472.5, 820)):
            Rectangle(SKETCH3_W, SKETCH3_H_2)
        with Locations((-532.5, 820)):
            Rectangle(SKETCH3_W, SKETCH3_H_2)
        with Locations((532.5, 820)):
            Rectangle(SKETCH3_W, SKETCH3_H_2)
        with Locations((472.5, 820)):
            Rectangle(SKETCH3_W, SKETCH3_H_2)
        with Locations((532.5, -795)):
            Rectangle(SKETCH3_W, SKETCH3_H)
        with Locations((472.5, -795)):
            Rectangle(SKETCH3_W, SKETCH3_H)
    extrude(amount=-BOSS_EXTRUDE3_DEPTH)

    # Sketch4 → Boss-Extrude4 (add)
    with BuildSketch(Plane.XY.offset(-725)):
        with Locations((-447.5, -100)):
            Rectangle(SKETCH4_W, SKETCH4_H)
        with Locations((-557.5, -100)):
            Rectangle(SKETCH4_W, SKETCH4_H)
        with Locations((557.5, -100)):
            Rectangle(SKETCH4_W, SKETCH4_H)
        with Locations((447.5, -100)):
            Rectangle(SKETCH4_W, SKETCH4_H)
    boss_extrude4 = extrude(amount=-BOSS_EXTRUDE4_DEPTH)

    # LPattern2: Boss-Extrude4 ×2
    with Locations(*[(0, 0, i * LPATTERN2_PITCH) for i in range(1, LPATTERN2_COUNT)]):
        add(boss_extrude4)

    # Sketch5 → Boss-Extrude5 (add)
    with BuildSketch(Plane.XY.offset(-725)):
        with Locations((-557.5, -100)):
            Rectangle(SKETCH5_W, SKETCH5_H)
        with Locations((-447.5, -100)):
            Rectangle(SKETCH5_W, SKETCH5_H)
        with Locations((447.5, -100)):
            Rectangle(SKETCH5_W, SKETCH5_H)
        with Locations((557.5, -100)):
            Rectangle(SKETCH5_W, SKETCH5_H)
    extrude(amount=BOSS_EXTRUDE5_DEPTH)


solid = part_1.part
